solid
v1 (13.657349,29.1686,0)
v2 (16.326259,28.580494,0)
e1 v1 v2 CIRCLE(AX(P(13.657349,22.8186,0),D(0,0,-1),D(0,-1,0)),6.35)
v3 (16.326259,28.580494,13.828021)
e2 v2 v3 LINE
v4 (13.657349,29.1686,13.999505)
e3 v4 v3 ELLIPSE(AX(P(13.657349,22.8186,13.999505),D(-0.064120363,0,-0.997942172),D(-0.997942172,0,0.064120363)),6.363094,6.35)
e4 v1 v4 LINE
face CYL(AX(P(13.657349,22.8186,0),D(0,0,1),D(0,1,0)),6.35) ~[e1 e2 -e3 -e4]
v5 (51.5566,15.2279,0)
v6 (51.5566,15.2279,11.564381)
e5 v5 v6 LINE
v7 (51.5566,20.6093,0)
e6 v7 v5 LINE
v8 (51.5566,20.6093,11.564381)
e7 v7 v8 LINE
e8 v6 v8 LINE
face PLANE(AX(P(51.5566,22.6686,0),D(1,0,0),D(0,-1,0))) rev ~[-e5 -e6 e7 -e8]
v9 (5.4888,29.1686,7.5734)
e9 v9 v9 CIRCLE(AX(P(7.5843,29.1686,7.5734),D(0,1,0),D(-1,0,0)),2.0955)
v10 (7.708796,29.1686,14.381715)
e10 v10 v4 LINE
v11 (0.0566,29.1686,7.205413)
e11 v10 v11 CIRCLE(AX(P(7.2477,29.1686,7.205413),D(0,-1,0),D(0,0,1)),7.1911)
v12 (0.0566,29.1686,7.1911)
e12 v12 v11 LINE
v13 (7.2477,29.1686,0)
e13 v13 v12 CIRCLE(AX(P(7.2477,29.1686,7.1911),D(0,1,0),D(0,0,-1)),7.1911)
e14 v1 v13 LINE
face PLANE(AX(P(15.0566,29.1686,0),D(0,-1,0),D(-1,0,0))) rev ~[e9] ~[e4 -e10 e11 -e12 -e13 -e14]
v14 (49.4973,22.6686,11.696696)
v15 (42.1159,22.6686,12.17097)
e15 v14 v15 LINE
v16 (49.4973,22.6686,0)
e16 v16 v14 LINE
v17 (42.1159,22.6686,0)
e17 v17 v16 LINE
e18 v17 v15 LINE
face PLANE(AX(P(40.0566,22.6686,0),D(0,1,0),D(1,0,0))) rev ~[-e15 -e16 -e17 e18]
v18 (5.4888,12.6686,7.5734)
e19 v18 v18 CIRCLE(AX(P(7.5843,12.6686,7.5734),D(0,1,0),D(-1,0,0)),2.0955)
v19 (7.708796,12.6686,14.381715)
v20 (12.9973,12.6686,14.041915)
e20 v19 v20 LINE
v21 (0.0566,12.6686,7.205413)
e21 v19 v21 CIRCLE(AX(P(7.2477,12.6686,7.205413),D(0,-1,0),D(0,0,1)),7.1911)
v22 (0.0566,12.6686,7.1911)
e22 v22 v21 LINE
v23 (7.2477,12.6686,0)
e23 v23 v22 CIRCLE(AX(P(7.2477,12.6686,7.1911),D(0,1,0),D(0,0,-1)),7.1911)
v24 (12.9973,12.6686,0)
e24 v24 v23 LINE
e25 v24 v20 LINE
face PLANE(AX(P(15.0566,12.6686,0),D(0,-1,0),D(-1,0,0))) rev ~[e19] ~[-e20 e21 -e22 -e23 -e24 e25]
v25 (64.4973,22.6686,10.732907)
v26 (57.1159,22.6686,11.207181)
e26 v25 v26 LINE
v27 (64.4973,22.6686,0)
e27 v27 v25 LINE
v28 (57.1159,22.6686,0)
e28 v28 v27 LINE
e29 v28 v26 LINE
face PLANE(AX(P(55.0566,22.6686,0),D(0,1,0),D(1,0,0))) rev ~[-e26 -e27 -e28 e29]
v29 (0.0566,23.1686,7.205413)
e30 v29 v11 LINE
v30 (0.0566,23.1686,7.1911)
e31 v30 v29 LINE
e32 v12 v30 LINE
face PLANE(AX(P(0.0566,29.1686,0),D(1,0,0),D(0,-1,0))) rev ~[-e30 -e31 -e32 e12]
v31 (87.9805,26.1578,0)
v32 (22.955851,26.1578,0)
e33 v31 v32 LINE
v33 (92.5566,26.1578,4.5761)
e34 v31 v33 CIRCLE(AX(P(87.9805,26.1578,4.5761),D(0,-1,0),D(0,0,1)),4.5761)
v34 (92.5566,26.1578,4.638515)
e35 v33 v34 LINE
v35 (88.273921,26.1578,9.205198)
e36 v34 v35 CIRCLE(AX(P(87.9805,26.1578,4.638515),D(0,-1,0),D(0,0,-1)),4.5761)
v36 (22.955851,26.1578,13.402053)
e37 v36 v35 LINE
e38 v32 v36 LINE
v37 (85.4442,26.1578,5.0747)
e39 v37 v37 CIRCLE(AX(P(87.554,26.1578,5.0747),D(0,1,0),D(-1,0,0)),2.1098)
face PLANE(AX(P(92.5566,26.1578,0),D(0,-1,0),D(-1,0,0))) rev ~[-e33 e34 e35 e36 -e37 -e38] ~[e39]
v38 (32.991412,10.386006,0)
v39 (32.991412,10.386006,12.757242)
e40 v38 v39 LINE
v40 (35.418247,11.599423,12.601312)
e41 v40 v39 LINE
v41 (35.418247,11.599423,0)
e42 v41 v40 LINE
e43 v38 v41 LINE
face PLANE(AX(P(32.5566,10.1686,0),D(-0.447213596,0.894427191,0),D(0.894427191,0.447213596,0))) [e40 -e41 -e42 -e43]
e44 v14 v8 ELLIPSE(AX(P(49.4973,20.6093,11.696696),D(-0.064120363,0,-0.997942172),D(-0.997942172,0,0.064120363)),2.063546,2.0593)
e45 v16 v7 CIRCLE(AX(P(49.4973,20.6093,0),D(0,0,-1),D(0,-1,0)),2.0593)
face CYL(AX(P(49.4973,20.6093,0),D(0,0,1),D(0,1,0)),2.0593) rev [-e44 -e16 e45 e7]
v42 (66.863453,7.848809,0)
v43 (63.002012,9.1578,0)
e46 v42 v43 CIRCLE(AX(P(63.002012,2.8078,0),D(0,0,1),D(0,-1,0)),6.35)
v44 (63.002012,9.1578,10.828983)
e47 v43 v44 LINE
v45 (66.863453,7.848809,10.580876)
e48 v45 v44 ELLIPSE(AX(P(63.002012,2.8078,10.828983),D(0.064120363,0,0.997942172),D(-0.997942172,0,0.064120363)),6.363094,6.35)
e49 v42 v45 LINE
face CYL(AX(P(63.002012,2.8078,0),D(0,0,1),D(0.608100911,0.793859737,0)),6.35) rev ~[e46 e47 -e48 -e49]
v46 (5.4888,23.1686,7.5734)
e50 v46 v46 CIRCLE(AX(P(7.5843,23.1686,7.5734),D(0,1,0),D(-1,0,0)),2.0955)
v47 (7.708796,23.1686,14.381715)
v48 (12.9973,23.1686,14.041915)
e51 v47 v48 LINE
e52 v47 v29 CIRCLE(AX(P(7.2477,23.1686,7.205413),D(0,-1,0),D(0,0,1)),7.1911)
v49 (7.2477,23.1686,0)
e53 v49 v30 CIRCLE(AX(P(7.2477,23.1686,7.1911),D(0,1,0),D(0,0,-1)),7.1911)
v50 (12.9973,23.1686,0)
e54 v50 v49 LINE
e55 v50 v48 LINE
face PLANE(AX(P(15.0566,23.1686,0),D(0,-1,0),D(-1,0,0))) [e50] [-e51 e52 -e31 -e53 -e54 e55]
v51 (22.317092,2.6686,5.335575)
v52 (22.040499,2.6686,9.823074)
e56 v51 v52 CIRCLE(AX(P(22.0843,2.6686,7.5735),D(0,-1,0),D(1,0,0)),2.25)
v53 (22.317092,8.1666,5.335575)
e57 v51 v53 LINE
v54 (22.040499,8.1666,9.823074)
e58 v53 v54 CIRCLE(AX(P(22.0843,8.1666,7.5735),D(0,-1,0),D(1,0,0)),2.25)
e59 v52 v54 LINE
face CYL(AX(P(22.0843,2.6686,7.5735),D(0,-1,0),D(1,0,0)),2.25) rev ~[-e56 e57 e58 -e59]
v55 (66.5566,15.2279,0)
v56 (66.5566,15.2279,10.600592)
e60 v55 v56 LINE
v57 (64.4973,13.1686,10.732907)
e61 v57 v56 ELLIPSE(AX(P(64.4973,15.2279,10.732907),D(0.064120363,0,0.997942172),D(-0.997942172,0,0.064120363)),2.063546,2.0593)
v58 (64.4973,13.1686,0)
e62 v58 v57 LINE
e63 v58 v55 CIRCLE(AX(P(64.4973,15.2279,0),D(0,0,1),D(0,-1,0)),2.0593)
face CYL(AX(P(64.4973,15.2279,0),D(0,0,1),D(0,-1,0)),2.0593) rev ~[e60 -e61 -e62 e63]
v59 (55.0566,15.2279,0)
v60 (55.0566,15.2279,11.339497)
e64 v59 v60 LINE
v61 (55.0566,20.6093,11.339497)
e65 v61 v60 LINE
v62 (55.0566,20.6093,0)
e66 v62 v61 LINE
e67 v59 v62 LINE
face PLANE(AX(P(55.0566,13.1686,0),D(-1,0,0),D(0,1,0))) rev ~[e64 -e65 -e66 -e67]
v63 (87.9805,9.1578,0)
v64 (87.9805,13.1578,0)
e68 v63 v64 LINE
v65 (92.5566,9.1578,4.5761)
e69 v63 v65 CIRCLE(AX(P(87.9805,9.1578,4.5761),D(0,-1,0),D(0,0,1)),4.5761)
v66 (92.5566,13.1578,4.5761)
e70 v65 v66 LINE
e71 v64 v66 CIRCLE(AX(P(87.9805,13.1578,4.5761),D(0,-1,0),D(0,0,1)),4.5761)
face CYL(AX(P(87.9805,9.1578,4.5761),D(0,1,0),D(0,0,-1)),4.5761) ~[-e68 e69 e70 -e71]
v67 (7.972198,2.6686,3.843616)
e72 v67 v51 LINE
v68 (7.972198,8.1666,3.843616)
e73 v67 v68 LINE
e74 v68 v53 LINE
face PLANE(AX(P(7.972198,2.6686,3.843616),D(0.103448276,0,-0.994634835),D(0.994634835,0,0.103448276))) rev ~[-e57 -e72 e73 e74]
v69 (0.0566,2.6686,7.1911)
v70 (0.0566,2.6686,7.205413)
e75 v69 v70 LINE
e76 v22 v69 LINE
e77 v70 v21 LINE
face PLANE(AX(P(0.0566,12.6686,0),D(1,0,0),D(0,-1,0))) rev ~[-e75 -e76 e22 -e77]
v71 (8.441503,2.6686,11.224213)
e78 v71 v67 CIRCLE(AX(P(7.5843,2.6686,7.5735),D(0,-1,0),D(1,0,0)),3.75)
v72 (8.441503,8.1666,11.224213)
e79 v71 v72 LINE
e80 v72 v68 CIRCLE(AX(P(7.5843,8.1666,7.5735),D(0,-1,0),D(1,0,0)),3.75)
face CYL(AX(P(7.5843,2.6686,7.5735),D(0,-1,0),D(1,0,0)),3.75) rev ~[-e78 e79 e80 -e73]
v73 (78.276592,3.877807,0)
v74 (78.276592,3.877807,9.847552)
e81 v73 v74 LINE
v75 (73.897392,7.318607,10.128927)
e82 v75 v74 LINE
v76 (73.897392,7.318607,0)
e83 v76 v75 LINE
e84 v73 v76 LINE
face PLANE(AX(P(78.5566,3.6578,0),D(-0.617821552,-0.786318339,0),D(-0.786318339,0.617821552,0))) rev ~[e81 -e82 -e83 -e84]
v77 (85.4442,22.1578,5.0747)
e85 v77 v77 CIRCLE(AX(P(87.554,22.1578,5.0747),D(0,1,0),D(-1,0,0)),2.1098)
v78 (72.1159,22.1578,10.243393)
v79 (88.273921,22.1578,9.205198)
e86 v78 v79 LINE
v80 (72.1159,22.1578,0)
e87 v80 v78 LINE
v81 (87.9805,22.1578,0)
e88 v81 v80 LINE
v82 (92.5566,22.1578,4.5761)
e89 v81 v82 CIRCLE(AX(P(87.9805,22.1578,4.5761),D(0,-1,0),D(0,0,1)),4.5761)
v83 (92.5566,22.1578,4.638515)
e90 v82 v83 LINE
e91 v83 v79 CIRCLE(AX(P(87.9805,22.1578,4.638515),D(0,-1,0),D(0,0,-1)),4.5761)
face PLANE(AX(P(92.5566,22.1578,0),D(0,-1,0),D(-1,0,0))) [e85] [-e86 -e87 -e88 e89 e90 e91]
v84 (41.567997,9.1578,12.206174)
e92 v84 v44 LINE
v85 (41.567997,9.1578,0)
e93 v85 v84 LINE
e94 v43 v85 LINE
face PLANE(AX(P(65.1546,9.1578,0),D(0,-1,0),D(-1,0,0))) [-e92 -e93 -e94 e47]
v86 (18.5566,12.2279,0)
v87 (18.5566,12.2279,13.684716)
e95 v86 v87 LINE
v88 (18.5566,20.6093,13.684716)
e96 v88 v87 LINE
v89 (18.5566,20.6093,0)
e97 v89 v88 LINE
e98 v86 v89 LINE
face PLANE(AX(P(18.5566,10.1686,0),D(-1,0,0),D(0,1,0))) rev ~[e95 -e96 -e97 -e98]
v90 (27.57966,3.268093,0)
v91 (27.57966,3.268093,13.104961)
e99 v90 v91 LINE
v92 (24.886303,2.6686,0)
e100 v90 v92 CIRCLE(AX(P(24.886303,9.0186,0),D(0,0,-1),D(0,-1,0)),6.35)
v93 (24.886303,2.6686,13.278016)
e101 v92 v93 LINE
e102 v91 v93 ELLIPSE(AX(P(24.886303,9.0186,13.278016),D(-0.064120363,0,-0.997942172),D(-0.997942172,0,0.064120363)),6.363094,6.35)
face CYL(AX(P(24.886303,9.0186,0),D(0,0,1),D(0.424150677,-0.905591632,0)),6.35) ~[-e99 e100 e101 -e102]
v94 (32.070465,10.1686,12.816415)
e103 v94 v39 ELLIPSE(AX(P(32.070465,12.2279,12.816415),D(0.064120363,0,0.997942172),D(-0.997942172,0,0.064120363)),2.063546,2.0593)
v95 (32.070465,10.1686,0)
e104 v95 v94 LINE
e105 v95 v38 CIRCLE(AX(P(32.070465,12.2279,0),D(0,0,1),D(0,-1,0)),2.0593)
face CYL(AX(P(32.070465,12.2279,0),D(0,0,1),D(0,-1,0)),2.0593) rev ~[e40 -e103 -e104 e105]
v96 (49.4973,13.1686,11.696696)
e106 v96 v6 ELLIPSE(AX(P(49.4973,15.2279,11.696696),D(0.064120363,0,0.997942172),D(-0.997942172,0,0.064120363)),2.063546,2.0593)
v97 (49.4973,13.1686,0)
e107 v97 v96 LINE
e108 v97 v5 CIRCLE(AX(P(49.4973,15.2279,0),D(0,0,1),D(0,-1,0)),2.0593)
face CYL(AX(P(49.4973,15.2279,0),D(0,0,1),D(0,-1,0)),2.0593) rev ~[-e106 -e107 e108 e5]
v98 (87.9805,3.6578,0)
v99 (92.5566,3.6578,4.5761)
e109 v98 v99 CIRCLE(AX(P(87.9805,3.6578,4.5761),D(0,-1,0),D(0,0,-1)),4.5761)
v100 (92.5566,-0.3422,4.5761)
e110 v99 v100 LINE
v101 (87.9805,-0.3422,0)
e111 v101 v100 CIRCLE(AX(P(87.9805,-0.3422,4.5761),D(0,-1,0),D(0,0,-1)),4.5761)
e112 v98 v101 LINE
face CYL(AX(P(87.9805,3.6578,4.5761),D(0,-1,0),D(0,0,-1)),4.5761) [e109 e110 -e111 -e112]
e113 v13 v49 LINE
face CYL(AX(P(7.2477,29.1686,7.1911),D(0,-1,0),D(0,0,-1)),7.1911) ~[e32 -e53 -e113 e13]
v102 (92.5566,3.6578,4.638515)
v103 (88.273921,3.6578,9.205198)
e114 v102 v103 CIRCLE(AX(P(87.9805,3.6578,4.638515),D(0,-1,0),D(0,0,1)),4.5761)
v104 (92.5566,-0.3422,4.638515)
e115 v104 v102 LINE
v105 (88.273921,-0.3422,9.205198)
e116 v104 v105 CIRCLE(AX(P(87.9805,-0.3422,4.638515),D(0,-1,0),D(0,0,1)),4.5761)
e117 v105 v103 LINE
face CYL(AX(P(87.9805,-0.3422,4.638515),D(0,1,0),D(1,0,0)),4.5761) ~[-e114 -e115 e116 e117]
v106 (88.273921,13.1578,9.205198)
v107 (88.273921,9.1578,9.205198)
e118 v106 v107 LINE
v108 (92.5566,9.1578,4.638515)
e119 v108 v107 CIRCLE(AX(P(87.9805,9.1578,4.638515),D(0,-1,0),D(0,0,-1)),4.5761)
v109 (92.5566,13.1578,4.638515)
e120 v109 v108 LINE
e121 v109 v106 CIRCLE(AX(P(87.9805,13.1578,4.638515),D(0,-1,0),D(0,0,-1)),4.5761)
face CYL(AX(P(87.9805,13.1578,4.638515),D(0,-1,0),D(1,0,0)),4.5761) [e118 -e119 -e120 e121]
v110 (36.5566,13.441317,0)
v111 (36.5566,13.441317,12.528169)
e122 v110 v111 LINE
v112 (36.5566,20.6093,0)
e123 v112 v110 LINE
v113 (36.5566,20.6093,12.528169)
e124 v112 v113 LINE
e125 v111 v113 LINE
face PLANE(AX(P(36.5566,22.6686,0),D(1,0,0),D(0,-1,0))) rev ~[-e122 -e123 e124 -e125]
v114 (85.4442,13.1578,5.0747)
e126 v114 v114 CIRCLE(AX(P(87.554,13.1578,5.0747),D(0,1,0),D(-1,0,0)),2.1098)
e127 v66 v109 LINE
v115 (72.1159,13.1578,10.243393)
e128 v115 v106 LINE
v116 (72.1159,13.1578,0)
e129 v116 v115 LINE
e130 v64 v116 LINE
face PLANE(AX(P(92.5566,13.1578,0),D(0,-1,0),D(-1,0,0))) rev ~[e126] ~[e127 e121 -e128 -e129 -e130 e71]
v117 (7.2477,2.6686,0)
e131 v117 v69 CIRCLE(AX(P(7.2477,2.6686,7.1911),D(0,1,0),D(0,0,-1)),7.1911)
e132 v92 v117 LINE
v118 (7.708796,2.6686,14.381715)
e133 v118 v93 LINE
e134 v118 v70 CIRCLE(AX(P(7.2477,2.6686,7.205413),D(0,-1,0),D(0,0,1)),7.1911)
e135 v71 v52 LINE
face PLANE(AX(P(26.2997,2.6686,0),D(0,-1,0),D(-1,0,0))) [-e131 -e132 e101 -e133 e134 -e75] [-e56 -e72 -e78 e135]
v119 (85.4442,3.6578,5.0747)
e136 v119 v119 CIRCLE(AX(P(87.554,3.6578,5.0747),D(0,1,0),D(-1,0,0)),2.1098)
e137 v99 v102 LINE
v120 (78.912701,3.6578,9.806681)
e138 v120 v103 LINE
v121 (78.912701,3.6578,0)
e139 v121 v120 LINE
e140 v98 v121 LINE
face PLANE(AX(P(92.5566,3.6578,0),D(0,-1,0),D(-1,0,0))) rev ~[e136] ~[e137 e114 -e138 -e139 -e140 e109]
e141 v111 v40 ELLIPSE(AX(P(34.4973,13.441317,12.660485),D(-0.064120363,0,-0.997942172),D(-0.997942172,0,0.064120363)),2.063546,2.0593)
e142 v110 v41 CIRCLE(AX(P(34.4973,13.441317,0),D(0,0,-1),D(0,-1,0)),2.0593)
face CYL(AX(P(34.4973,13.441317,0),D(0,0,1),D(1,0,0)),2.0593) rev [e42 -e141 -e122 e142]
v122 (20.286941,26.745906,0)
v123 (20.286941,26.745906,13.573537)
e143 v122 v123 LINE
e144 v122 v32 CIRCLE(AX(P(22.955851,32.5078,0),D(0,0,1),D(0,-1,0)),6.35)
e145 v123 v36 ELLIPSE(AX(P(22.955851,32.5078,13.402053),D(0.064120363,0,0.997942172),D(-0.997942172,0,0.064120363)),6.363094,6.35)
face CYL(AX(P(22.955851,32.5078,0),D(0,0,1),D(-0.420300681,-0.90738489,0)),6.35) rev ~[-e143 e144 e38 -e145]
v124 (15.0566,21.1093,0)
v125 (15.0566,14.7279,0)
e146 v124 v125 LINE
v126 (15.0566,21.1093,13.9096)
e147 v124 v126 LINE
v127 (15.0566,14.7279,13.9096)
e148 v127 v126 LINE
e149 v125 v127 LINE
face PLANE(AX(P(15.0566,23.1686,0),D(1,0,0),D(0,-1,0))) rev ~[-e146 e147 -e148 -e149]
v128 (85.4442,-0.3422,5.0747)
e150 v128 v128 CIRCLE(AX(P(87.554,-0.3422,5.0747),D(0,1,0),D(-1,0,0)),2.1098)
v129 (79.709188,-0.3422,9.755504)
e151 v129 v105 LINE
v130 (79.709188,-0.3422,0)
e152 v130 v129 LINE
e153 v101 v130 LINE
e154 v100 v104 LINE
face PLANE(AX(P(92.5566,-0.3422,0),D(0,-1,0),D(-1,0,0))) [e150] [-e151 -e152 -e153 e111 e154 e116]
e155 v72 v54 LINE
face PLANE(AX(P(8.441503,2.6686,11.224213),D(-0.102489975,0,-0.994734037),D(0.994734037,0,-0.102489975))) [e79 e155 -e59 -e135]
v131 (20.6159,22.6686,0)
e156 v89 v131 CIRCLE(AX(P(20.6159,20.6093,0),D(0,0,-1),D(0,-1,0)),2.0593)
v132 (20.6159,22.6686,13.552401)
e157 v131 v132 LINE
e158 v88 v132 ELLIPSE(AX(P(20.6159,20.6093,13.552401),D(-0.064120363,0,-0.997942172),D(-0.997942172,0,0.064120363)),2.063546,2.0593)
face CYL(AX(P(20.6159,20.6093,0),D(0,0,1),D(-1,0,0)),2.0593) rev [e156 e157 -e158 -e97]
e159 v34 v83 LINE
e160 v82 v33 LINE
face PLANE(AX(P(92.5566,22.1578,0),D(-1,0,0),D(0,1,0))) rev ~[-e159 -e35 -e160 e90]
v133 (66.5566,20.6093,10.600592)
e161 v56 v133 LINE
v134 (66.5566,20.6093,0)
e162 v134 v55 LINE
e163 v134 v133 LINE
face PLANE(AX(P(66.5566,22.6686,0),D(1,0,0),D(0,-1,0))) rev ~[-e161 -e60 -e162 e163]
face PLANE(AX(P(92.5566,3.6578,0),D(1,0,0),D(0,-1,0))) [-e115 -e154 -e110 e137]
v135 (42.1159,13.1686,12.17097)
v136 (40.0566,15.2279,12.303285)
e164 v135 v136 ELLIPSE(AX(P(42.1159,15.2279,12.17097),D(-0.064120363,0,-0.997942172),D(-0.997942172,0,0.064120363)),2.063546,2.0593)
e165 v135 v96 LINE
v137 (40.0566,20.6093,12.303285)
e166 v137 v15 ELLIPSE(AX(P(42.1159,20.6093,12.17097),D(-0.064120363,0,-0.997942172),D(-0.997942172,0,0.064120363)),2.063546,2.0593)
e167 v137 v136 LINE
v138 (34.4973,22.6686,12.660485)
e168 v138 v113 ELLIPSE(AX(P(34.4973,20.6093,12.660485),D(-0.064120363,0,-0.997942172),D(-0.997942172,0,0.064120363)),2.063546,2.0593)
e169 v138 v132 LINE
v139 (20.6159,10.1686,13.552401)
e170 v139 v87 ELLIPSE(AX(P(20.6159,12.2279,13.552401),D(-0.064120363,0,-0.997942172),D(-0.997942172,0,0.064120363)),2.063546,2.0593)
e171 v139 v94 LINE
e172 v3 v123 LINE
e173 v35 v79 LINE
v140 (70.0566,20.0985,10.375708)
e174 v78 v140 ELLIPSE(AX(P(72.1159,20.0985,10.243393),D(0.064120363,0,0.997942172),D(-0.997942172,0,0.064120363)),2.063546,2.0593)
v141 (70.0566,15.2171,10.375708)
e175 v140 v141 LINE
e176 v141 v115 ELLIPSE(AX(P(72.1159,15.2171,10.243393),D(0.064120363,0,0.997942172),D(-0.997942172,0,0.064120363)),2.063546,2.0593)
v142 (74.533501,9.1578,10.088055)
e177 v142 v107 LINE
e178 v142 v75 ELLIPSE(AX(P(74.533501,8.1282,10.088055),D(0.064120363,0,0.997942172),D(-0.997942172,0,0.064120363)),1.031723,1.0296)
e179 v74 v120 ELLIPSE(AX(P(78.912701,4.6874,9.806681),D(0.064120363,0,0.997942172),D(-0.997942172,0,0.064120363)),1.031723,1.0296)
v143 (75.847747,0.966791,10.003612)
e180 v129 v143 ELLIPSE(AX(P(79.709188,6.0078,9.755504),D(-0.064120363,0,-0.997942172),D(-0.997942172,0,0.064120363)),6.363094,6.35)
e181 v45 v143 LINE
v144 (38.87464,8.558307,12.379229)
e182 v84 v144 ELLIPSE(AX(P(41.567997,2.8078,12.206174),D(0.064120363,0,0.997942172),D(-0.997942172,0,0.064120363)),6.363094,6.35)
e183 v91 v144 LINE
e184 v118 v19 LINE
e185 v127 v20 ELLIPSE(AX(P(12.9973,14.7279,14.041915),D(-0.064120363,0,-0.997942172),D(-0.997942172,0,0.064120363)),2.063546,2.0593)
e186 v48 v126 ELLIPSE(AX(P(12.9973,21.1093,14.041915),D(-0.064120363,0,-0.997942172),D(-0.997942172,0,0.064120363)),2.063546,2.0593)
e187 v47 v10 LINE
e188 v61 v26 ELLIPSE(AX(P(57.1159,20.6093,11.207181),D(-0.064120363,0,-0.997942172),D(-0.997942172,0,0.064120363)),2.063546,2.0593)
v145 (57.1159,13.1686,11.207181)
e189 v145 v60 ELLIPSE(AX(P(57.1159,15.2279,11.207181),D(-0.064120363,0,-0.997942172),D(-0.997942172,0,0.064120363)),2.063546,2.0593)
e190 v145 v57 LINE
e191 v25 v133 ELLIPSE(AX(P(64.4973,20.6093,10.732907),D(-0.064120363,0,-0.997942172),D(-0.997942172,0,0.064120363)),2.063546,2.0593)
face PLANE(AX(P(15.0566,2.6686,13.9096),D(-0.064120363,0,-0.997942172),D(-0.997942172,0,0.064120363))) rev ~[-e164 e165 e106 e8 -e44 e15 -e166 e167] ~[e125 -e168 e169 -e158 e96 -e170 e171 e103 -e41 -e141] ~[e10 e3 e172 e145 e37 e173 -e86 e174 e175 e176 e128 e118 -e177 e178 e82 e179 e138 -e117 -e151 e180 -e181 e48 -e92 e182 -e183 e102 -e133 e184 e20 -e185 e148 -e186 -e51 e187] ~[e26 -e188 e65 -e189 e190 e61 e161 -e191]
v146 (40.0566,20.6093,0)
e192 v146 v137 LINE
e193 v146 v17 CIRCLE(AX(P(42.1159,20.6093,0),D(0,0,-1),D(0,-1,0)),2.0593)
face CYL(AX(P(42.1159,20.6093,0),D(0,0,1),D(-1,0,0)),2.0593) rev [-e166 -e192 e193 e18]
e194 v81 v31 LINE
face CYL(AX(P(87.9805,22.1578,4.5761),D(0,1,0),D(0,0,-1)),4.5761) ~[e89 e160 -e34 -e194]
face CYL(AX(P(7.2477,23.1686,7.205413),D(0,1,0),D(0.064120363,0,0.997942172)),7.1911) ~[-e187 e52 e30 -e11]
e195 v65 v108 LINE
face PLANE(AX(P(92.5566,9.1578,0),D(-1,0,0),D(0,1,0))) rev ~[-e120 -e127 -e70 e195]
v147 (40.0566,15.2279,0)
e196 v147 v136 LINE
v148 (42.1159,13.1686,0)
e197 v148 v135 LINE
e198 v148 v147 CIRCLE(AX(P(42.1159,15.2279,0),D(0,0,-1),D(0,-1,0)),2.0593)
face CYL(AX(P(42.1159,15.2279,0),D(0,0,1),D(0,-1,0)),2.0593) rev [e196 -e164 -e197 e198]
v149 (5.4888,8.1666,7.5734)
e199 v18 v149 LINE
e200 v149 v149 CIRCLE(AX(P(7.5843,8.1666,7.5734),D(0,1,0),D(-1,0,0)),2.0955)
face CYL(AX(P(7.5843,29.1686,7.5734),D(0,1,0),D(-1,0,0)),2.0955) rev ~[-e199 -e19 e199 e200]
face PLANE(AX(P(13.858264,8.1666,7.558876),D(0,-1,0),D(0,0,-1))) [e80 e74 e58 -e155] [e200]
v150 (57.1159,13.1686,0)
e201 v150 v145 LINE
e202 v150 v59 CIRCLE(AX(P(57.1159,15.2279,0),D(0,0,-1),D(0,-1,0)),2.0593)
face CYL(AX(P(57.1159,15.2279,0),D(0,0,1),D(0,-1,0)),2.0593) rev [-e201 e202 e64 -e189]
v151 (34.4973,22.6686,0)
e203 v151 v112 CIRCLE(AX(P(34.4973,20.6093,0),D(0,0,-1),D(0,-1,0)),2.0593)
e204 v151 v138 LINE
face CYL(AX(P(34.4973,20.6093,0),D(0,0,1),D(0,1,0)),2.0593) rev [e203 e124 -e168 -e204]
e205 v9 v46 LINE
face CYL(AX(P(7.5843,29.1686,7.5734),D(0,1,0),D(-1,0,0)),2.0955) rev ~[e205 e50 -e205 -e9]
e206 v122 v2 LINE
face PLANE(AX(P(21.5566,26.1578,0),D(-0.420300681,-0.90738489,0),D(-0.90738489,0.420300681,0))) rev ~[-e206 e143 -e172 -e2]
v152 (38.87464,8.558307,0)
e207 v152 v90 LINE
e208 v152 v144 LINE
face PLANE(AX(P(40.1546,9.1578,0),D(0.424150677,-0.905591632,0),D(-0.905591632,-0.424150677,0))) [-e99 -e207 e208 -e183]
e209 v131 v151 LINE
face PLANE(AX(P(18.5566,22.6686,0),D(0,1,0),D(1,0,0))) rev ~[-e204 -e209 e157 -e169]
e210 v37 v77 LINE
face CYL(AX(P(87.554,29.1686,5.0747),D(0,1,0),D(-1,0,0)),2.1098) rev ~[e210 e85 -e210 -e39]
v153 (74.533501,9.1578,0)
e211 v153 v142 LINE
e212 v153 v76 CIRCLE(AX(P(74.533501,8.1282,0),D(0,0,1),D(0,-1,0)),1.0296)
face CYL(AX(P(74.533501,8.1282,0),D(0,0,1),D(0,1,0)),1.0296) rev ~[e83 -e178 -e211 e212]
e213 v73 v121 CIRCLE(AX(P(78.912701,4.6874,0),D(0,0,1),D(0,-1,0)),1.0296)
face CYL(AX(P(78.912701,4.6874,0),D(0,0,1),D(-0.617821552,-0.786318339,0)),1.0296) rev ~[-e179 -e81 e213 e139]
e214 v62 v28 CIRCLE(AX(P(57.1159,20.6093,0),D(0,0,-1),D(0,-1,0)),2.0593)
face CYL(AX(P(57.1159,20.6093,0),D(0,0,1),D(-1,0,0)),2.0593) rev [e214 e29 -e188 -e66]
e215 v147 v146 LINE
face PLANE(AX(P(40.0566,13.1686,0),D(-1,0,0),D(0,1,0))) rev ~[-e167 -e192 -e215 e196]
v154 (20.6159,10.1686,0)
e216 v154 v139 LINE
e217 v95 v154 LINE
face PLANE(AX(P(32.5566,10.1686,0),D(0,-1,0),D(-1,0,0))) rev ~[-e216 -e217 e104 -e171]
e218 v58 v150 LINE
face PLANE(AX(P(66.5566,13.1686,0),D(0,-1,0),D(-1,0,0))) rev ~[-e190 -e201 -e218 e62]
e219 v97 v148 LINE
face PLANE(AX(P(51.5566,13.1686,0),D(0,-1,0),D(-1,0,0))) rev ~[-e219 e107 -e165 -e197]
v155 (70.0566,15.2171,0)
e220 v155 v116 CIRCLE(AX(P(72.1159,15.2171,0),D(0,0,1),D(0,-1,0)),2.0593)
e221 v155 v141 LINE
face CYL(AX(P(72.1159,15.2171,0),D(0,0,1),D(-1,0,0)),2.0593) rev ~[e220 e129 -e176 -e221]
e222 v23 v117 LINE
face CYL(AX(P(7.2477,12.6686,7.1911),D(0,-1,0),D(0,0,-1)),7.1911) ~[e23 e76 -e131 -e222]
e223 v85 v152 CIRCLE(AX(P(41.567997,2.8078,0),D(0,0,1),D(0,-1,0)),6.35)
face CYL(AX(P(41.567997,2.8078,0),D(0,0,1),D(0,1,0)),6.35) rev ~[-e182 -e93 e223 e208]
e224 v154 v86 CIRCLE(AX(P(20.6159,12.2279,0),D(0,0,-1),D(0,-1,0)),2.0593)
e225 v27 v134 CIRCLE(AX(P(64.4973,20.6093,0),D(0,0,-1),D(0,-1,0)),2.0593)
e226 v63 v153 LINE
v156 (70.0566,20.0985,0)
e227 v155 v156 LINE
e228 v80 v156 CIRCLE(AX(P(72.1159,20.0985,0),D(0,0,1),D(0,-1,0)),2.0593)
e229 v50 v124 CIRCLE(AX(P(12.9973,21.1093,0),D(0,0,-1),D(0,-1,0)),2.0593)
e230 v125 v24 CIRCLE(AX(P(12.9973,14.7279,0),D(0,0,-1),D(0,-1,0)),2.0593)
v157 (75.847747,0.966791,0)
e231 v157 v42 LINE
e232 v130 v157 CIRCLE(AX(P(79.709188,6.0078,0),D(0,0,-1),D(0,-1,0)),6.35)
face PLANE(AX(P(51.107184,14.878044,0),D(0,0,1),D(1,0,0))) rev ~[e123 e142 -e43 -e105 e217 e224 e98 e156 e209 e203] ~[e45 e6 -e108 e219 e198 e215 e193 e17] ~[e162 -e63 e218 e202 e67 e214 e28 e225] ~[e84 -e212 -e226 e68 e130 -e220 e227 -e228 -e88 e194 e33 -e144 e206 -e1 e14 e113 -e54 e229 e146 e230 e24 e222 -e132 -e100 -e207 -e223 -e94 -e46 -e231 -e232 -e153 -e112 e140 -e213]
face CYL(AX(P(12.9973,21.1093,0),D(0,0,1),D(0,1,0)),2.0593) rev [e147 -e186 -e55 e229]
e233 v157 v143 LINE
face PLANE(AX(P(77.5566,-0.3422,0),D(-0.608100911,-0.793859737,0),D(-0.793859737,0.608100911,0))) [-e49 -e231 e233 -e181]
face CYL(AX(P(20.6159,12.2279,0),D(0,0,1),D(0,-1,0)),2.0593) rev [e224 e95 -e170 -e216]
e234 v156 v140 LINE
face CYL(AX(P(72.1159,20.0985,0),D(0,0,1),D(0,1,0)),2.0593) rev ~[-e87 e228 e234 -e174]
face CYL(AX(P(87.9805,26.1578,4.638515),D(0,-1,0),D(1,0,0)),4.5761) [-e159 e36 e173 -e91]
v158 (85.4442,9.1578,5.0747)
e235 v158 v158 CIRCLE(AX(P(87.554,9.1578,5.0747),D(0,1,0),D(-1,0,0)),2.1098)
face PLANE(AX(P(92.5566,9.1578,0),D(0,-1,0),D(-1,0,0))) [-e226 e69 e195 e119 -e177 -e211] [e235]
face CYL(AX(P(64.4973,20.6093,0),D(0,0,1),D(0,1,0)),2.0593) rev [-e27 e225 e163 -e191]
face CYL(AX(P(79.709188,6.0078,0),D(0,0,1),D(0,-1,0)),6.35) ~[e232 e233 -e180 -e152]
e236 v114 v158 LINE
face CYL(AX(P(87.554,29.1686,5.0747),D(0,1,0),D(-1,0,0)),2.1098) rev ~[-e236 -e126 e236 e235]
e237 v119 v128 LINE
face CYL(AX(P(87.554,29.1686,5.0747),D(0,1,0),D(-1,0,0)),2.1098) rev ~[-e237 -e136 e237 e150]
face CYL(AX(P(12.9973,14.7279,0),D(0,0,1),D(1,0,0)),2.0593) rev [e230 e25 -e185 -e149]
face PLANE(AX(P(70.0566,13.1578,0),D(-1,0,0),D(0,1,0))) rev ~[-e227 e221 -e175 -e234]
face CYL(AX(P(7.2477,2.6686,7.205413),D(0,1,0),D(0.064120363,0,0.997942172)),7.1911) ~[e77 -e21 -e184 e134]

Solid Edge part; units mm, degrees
sketch "Sketch1" plane through (0, 0, 0) normal (0, 0, -1) x (-1, 0, 0)
  line L0 (-66.5566, 13.1686) -> (-55.0566, 13.1686)
  line L1 (-55.0566, 13.1686) -> (-55.0566, 22.6686)
  line L2 (-55.0566, 22.6686) -> (-66.5566, 22.6686)
  line L3 (-66.5566, 22.6686) -> (-66.5566, 13.1686)
  line L4 (-51.5566, 13.1686) -> (-40.0566, 13.1686)
  line L5 (-40.0566, 13.1686) -> (-40.0566, 22.6686)
  line L6 (-40.0566, 22.6686) -> (-51.5566, 22.6686)
  line L7 (-51.5566, 22.6686) -> (-51.5566, 13.1686)
  line L8 (-32.5566, 10.1686) -> (-18.5566, 10.1686)
  line L9 (-18.5566, 10.1686) -> (-18.5566, 22.6686)
  line L10 (-18.5566, 22.6686) -> (-36.5566, 22.6686)
  line L11 (-36.5566, 22.6686) -> (-36.5566, 12.1686)
  line L12 (-32.5566, 10.1686) -> (-36.5566, 12.1686)
  line L13 (-92.5566, 26.1578) -> (-21.5566, 26.1578)
  line L14 (-21.5566, 26.1578) -> (-15.0566, 29.1686)
  line L15 (-15.0566, 29.1686) -> (-0.0566, 29.1686)
  line L16 (-0.0566, 29.1686) -> (-0.0566, 23.1686)
  line L17 (-15.0566, 23.1686) -> (-0.0566, 23.1686)
  line L18 (-15.0566, 23.1686) -> (-15.0566, 12.6686)
  line L19 (-15.0566, 12.6686) -> (-0.0566, 12.6686)
  line L20 (-0.0566, 12.6686) -> (-0.0566, 2.6686)
  line L21 (-26.2997, 2.6686) -> (-0.0566, 2.6686)
  line L22 (-40.1546, 9.1578) -> (-26.2997, 2.6686)
  line L23 (-65.1546, 9.1578) -> (-40.1546, 9.1578)
  line L24 (-77.5566, -0.3422) -> (-65.1546, 9.1578)
  line L25 (-92.5566, -0.3422) -> (-77.5566, -0.3422)
  line L26 (-92.5566, 3.6578) -> (-92.5566, -0.3422)
  line L27 (-92.5566, 3.6578) -> (-78.5566, 3.6578)
  line L28 (-78.5566, 3.6578) -> (-71.5566, 9.1578)
  line L29 (-92.5566, 9.1578) -> (-71.5566, 9.1578)
  line L30 (-92.5566, 9.1578) -> (-92.5566, 13.1578)
  line L31 (-92.5566, 13.1578) -> (-70.0566, 13.1578)
  line L32 (-70.0566, 13.1578) -> (-70.0566, 22.1578)
  line L33 (-92.5566, 22.1578) -> (-70.0566, 22.1578)
  line L34 (-92.5566, 22.1578) -> (-92.5566, 26.1578)
  dimension "D1" = 10
  dimension "D2" = 15
  dimension "D3" = 10.5
  dimension "D4" = 6
  dimension "D5" = 4
  dimension "D6" = 9.5
  dimension "D7" = 11.5
  dimension "D8" = 9
  dimension "D9" = 5.5
  dimension "D10" = 15
  dimension "D11" = 21
  dimension "D12" = 22.5
  dimension "D13" = 15.2993
  dimension "D14" = 14
  dimension "D15" = 12.5
  dimension "D16" = 18
  dimension "D17" = 10.5
  dimension "D18" = 4.4721
  dimension "D19" = 3.5
  dimension "D20" = 3.5
  dimension "D21" = 3.5
  dimension "D22" = 3.5
  dimension "D23" = 92.5
  dimension "D24" = 71
  dimension "D25" = 15
  dimension "D26" = 6.5
  dimension "D27" = 26.2431
  dimension "D28" = 25
  dimension "D29" = 14
  dimension "D30" = 17
  dimension "D31" = 4
  dimension "D32" = 15.6224
extrude "Protrusion1" add sketch "Sketch1" against normal blind 15.0368
sketch "Sketch2" plane through (13.1782, 2.6686, 7.5184) normal (0, -1, 0) x (1, 0, 0)
  line L0 (74.2537, 1.7409) -> (1.8784, 6.3912)
extrude "Enlèvement_matière_1" cut sketch "Sketch2" along normal mid plane 64.6684 material side at (51.2475, 2.6686, 11.6343)
sketch "Sketch3" plane through (7.6241, 29.1686, 7.4367) normal (0, 1, 0) x (-1, 0, 0)
  circle A0 centre (0.0398, 0.1367) radius 2.0955
  circle A1 centre (-79.9299, -2.362) radius 2.1098
extrude "Enlèvement_matière_3" cut sketch "Sketch3" along normal mid plane 246.888
fillet "Congé_1" radius 7.1911 4 edges at (0.0566, 26.1686, 14.8734) (0.0566, 7.6686, 14.8734) (0.0566, 26.1686, 0) (0.0566, 7.6686, 0)
fillet "Congé_2" radius 4.5761 6 edges at (92.5566, 1.6578, 8.93) (92.5566, 11.1578, 8.93) (92.5566, 24.1578, 8.93) (92.5566, 24.1578, 0) (92.5566, 11.1578, 0) (92.5566, 1.6578, 0)
fillet "Congé_3" radius 2.0593 15 edges at (15.0566, 23.1686, 6.9548) (15.0566, 12.6686, 6.9548) (36.5566, 22.6686, 6.2641) (36.5566, 12.1686, 6.2641) (32.5566, 10.1686, 6.3926) (18.5566, 10.1686, 6.8424) (18.5566, 22.6686, 6.8424) (40.0566, 13.1686, 6.1516) (40.0566, 22.6686, 6.1516) (51.5566, 22.6686, 5.7822) (55.0566, 13.1686, 5.6697) (51.5566, 13.1686, 5.7822) (55.0566, 22.6686, 5.6697) (66.5566, 22.6686, 5.3003) (66.5566, 13.1686, 5.3003)
fillet "Congé_5" radius 2.0593 2 edges at (70.0566, 13.1578, 5.1878) (70.0566, 22.1578, 5.1878)
fillet "Congé_6" radius 1.0296 2 edges at (71.5566, 9.1578, 5.1397) (78.5566, 3.6578, 4.9148)
fillet "Congé_7" radius 6.35 1 edges at (77.5566, -0.3422, 4.9469)
fillet "Congé_8" radius 6.35 5 edges at (40.1546, 9.1578, 6.1485) (65.1546, 9.1578, 5.3453) (26.2997, 2.6686, 6.5936) (15.0566, 29.1686, 6.9548) (21.5566, 26.1578, 6.746)
sketch "Sketch4" plane through (12.4715, 2.6686, 7.1983) normal (0, -1, 0) x (1, 0, 0)
  line L0 (-4.4993, -3.3547) -> (9.8456, -1.8628)
  line L1 (-4.03, 4.0259) -> (9.569, 2.6247)
  arc A0 (-4.03, 4.0259) -> (-4.4993, -3.3547) centre (-4.8872, 0.3752) ccw
  arc A1 (9.8456, -1.8628) -> (9.569, 2.6247) centre (9.6128, 0.3752) ccw
extrude "Enlèvement_matière_4" cut sketch "Sketch4" against normal blind 5.498
properties part number "AC_1.04"
